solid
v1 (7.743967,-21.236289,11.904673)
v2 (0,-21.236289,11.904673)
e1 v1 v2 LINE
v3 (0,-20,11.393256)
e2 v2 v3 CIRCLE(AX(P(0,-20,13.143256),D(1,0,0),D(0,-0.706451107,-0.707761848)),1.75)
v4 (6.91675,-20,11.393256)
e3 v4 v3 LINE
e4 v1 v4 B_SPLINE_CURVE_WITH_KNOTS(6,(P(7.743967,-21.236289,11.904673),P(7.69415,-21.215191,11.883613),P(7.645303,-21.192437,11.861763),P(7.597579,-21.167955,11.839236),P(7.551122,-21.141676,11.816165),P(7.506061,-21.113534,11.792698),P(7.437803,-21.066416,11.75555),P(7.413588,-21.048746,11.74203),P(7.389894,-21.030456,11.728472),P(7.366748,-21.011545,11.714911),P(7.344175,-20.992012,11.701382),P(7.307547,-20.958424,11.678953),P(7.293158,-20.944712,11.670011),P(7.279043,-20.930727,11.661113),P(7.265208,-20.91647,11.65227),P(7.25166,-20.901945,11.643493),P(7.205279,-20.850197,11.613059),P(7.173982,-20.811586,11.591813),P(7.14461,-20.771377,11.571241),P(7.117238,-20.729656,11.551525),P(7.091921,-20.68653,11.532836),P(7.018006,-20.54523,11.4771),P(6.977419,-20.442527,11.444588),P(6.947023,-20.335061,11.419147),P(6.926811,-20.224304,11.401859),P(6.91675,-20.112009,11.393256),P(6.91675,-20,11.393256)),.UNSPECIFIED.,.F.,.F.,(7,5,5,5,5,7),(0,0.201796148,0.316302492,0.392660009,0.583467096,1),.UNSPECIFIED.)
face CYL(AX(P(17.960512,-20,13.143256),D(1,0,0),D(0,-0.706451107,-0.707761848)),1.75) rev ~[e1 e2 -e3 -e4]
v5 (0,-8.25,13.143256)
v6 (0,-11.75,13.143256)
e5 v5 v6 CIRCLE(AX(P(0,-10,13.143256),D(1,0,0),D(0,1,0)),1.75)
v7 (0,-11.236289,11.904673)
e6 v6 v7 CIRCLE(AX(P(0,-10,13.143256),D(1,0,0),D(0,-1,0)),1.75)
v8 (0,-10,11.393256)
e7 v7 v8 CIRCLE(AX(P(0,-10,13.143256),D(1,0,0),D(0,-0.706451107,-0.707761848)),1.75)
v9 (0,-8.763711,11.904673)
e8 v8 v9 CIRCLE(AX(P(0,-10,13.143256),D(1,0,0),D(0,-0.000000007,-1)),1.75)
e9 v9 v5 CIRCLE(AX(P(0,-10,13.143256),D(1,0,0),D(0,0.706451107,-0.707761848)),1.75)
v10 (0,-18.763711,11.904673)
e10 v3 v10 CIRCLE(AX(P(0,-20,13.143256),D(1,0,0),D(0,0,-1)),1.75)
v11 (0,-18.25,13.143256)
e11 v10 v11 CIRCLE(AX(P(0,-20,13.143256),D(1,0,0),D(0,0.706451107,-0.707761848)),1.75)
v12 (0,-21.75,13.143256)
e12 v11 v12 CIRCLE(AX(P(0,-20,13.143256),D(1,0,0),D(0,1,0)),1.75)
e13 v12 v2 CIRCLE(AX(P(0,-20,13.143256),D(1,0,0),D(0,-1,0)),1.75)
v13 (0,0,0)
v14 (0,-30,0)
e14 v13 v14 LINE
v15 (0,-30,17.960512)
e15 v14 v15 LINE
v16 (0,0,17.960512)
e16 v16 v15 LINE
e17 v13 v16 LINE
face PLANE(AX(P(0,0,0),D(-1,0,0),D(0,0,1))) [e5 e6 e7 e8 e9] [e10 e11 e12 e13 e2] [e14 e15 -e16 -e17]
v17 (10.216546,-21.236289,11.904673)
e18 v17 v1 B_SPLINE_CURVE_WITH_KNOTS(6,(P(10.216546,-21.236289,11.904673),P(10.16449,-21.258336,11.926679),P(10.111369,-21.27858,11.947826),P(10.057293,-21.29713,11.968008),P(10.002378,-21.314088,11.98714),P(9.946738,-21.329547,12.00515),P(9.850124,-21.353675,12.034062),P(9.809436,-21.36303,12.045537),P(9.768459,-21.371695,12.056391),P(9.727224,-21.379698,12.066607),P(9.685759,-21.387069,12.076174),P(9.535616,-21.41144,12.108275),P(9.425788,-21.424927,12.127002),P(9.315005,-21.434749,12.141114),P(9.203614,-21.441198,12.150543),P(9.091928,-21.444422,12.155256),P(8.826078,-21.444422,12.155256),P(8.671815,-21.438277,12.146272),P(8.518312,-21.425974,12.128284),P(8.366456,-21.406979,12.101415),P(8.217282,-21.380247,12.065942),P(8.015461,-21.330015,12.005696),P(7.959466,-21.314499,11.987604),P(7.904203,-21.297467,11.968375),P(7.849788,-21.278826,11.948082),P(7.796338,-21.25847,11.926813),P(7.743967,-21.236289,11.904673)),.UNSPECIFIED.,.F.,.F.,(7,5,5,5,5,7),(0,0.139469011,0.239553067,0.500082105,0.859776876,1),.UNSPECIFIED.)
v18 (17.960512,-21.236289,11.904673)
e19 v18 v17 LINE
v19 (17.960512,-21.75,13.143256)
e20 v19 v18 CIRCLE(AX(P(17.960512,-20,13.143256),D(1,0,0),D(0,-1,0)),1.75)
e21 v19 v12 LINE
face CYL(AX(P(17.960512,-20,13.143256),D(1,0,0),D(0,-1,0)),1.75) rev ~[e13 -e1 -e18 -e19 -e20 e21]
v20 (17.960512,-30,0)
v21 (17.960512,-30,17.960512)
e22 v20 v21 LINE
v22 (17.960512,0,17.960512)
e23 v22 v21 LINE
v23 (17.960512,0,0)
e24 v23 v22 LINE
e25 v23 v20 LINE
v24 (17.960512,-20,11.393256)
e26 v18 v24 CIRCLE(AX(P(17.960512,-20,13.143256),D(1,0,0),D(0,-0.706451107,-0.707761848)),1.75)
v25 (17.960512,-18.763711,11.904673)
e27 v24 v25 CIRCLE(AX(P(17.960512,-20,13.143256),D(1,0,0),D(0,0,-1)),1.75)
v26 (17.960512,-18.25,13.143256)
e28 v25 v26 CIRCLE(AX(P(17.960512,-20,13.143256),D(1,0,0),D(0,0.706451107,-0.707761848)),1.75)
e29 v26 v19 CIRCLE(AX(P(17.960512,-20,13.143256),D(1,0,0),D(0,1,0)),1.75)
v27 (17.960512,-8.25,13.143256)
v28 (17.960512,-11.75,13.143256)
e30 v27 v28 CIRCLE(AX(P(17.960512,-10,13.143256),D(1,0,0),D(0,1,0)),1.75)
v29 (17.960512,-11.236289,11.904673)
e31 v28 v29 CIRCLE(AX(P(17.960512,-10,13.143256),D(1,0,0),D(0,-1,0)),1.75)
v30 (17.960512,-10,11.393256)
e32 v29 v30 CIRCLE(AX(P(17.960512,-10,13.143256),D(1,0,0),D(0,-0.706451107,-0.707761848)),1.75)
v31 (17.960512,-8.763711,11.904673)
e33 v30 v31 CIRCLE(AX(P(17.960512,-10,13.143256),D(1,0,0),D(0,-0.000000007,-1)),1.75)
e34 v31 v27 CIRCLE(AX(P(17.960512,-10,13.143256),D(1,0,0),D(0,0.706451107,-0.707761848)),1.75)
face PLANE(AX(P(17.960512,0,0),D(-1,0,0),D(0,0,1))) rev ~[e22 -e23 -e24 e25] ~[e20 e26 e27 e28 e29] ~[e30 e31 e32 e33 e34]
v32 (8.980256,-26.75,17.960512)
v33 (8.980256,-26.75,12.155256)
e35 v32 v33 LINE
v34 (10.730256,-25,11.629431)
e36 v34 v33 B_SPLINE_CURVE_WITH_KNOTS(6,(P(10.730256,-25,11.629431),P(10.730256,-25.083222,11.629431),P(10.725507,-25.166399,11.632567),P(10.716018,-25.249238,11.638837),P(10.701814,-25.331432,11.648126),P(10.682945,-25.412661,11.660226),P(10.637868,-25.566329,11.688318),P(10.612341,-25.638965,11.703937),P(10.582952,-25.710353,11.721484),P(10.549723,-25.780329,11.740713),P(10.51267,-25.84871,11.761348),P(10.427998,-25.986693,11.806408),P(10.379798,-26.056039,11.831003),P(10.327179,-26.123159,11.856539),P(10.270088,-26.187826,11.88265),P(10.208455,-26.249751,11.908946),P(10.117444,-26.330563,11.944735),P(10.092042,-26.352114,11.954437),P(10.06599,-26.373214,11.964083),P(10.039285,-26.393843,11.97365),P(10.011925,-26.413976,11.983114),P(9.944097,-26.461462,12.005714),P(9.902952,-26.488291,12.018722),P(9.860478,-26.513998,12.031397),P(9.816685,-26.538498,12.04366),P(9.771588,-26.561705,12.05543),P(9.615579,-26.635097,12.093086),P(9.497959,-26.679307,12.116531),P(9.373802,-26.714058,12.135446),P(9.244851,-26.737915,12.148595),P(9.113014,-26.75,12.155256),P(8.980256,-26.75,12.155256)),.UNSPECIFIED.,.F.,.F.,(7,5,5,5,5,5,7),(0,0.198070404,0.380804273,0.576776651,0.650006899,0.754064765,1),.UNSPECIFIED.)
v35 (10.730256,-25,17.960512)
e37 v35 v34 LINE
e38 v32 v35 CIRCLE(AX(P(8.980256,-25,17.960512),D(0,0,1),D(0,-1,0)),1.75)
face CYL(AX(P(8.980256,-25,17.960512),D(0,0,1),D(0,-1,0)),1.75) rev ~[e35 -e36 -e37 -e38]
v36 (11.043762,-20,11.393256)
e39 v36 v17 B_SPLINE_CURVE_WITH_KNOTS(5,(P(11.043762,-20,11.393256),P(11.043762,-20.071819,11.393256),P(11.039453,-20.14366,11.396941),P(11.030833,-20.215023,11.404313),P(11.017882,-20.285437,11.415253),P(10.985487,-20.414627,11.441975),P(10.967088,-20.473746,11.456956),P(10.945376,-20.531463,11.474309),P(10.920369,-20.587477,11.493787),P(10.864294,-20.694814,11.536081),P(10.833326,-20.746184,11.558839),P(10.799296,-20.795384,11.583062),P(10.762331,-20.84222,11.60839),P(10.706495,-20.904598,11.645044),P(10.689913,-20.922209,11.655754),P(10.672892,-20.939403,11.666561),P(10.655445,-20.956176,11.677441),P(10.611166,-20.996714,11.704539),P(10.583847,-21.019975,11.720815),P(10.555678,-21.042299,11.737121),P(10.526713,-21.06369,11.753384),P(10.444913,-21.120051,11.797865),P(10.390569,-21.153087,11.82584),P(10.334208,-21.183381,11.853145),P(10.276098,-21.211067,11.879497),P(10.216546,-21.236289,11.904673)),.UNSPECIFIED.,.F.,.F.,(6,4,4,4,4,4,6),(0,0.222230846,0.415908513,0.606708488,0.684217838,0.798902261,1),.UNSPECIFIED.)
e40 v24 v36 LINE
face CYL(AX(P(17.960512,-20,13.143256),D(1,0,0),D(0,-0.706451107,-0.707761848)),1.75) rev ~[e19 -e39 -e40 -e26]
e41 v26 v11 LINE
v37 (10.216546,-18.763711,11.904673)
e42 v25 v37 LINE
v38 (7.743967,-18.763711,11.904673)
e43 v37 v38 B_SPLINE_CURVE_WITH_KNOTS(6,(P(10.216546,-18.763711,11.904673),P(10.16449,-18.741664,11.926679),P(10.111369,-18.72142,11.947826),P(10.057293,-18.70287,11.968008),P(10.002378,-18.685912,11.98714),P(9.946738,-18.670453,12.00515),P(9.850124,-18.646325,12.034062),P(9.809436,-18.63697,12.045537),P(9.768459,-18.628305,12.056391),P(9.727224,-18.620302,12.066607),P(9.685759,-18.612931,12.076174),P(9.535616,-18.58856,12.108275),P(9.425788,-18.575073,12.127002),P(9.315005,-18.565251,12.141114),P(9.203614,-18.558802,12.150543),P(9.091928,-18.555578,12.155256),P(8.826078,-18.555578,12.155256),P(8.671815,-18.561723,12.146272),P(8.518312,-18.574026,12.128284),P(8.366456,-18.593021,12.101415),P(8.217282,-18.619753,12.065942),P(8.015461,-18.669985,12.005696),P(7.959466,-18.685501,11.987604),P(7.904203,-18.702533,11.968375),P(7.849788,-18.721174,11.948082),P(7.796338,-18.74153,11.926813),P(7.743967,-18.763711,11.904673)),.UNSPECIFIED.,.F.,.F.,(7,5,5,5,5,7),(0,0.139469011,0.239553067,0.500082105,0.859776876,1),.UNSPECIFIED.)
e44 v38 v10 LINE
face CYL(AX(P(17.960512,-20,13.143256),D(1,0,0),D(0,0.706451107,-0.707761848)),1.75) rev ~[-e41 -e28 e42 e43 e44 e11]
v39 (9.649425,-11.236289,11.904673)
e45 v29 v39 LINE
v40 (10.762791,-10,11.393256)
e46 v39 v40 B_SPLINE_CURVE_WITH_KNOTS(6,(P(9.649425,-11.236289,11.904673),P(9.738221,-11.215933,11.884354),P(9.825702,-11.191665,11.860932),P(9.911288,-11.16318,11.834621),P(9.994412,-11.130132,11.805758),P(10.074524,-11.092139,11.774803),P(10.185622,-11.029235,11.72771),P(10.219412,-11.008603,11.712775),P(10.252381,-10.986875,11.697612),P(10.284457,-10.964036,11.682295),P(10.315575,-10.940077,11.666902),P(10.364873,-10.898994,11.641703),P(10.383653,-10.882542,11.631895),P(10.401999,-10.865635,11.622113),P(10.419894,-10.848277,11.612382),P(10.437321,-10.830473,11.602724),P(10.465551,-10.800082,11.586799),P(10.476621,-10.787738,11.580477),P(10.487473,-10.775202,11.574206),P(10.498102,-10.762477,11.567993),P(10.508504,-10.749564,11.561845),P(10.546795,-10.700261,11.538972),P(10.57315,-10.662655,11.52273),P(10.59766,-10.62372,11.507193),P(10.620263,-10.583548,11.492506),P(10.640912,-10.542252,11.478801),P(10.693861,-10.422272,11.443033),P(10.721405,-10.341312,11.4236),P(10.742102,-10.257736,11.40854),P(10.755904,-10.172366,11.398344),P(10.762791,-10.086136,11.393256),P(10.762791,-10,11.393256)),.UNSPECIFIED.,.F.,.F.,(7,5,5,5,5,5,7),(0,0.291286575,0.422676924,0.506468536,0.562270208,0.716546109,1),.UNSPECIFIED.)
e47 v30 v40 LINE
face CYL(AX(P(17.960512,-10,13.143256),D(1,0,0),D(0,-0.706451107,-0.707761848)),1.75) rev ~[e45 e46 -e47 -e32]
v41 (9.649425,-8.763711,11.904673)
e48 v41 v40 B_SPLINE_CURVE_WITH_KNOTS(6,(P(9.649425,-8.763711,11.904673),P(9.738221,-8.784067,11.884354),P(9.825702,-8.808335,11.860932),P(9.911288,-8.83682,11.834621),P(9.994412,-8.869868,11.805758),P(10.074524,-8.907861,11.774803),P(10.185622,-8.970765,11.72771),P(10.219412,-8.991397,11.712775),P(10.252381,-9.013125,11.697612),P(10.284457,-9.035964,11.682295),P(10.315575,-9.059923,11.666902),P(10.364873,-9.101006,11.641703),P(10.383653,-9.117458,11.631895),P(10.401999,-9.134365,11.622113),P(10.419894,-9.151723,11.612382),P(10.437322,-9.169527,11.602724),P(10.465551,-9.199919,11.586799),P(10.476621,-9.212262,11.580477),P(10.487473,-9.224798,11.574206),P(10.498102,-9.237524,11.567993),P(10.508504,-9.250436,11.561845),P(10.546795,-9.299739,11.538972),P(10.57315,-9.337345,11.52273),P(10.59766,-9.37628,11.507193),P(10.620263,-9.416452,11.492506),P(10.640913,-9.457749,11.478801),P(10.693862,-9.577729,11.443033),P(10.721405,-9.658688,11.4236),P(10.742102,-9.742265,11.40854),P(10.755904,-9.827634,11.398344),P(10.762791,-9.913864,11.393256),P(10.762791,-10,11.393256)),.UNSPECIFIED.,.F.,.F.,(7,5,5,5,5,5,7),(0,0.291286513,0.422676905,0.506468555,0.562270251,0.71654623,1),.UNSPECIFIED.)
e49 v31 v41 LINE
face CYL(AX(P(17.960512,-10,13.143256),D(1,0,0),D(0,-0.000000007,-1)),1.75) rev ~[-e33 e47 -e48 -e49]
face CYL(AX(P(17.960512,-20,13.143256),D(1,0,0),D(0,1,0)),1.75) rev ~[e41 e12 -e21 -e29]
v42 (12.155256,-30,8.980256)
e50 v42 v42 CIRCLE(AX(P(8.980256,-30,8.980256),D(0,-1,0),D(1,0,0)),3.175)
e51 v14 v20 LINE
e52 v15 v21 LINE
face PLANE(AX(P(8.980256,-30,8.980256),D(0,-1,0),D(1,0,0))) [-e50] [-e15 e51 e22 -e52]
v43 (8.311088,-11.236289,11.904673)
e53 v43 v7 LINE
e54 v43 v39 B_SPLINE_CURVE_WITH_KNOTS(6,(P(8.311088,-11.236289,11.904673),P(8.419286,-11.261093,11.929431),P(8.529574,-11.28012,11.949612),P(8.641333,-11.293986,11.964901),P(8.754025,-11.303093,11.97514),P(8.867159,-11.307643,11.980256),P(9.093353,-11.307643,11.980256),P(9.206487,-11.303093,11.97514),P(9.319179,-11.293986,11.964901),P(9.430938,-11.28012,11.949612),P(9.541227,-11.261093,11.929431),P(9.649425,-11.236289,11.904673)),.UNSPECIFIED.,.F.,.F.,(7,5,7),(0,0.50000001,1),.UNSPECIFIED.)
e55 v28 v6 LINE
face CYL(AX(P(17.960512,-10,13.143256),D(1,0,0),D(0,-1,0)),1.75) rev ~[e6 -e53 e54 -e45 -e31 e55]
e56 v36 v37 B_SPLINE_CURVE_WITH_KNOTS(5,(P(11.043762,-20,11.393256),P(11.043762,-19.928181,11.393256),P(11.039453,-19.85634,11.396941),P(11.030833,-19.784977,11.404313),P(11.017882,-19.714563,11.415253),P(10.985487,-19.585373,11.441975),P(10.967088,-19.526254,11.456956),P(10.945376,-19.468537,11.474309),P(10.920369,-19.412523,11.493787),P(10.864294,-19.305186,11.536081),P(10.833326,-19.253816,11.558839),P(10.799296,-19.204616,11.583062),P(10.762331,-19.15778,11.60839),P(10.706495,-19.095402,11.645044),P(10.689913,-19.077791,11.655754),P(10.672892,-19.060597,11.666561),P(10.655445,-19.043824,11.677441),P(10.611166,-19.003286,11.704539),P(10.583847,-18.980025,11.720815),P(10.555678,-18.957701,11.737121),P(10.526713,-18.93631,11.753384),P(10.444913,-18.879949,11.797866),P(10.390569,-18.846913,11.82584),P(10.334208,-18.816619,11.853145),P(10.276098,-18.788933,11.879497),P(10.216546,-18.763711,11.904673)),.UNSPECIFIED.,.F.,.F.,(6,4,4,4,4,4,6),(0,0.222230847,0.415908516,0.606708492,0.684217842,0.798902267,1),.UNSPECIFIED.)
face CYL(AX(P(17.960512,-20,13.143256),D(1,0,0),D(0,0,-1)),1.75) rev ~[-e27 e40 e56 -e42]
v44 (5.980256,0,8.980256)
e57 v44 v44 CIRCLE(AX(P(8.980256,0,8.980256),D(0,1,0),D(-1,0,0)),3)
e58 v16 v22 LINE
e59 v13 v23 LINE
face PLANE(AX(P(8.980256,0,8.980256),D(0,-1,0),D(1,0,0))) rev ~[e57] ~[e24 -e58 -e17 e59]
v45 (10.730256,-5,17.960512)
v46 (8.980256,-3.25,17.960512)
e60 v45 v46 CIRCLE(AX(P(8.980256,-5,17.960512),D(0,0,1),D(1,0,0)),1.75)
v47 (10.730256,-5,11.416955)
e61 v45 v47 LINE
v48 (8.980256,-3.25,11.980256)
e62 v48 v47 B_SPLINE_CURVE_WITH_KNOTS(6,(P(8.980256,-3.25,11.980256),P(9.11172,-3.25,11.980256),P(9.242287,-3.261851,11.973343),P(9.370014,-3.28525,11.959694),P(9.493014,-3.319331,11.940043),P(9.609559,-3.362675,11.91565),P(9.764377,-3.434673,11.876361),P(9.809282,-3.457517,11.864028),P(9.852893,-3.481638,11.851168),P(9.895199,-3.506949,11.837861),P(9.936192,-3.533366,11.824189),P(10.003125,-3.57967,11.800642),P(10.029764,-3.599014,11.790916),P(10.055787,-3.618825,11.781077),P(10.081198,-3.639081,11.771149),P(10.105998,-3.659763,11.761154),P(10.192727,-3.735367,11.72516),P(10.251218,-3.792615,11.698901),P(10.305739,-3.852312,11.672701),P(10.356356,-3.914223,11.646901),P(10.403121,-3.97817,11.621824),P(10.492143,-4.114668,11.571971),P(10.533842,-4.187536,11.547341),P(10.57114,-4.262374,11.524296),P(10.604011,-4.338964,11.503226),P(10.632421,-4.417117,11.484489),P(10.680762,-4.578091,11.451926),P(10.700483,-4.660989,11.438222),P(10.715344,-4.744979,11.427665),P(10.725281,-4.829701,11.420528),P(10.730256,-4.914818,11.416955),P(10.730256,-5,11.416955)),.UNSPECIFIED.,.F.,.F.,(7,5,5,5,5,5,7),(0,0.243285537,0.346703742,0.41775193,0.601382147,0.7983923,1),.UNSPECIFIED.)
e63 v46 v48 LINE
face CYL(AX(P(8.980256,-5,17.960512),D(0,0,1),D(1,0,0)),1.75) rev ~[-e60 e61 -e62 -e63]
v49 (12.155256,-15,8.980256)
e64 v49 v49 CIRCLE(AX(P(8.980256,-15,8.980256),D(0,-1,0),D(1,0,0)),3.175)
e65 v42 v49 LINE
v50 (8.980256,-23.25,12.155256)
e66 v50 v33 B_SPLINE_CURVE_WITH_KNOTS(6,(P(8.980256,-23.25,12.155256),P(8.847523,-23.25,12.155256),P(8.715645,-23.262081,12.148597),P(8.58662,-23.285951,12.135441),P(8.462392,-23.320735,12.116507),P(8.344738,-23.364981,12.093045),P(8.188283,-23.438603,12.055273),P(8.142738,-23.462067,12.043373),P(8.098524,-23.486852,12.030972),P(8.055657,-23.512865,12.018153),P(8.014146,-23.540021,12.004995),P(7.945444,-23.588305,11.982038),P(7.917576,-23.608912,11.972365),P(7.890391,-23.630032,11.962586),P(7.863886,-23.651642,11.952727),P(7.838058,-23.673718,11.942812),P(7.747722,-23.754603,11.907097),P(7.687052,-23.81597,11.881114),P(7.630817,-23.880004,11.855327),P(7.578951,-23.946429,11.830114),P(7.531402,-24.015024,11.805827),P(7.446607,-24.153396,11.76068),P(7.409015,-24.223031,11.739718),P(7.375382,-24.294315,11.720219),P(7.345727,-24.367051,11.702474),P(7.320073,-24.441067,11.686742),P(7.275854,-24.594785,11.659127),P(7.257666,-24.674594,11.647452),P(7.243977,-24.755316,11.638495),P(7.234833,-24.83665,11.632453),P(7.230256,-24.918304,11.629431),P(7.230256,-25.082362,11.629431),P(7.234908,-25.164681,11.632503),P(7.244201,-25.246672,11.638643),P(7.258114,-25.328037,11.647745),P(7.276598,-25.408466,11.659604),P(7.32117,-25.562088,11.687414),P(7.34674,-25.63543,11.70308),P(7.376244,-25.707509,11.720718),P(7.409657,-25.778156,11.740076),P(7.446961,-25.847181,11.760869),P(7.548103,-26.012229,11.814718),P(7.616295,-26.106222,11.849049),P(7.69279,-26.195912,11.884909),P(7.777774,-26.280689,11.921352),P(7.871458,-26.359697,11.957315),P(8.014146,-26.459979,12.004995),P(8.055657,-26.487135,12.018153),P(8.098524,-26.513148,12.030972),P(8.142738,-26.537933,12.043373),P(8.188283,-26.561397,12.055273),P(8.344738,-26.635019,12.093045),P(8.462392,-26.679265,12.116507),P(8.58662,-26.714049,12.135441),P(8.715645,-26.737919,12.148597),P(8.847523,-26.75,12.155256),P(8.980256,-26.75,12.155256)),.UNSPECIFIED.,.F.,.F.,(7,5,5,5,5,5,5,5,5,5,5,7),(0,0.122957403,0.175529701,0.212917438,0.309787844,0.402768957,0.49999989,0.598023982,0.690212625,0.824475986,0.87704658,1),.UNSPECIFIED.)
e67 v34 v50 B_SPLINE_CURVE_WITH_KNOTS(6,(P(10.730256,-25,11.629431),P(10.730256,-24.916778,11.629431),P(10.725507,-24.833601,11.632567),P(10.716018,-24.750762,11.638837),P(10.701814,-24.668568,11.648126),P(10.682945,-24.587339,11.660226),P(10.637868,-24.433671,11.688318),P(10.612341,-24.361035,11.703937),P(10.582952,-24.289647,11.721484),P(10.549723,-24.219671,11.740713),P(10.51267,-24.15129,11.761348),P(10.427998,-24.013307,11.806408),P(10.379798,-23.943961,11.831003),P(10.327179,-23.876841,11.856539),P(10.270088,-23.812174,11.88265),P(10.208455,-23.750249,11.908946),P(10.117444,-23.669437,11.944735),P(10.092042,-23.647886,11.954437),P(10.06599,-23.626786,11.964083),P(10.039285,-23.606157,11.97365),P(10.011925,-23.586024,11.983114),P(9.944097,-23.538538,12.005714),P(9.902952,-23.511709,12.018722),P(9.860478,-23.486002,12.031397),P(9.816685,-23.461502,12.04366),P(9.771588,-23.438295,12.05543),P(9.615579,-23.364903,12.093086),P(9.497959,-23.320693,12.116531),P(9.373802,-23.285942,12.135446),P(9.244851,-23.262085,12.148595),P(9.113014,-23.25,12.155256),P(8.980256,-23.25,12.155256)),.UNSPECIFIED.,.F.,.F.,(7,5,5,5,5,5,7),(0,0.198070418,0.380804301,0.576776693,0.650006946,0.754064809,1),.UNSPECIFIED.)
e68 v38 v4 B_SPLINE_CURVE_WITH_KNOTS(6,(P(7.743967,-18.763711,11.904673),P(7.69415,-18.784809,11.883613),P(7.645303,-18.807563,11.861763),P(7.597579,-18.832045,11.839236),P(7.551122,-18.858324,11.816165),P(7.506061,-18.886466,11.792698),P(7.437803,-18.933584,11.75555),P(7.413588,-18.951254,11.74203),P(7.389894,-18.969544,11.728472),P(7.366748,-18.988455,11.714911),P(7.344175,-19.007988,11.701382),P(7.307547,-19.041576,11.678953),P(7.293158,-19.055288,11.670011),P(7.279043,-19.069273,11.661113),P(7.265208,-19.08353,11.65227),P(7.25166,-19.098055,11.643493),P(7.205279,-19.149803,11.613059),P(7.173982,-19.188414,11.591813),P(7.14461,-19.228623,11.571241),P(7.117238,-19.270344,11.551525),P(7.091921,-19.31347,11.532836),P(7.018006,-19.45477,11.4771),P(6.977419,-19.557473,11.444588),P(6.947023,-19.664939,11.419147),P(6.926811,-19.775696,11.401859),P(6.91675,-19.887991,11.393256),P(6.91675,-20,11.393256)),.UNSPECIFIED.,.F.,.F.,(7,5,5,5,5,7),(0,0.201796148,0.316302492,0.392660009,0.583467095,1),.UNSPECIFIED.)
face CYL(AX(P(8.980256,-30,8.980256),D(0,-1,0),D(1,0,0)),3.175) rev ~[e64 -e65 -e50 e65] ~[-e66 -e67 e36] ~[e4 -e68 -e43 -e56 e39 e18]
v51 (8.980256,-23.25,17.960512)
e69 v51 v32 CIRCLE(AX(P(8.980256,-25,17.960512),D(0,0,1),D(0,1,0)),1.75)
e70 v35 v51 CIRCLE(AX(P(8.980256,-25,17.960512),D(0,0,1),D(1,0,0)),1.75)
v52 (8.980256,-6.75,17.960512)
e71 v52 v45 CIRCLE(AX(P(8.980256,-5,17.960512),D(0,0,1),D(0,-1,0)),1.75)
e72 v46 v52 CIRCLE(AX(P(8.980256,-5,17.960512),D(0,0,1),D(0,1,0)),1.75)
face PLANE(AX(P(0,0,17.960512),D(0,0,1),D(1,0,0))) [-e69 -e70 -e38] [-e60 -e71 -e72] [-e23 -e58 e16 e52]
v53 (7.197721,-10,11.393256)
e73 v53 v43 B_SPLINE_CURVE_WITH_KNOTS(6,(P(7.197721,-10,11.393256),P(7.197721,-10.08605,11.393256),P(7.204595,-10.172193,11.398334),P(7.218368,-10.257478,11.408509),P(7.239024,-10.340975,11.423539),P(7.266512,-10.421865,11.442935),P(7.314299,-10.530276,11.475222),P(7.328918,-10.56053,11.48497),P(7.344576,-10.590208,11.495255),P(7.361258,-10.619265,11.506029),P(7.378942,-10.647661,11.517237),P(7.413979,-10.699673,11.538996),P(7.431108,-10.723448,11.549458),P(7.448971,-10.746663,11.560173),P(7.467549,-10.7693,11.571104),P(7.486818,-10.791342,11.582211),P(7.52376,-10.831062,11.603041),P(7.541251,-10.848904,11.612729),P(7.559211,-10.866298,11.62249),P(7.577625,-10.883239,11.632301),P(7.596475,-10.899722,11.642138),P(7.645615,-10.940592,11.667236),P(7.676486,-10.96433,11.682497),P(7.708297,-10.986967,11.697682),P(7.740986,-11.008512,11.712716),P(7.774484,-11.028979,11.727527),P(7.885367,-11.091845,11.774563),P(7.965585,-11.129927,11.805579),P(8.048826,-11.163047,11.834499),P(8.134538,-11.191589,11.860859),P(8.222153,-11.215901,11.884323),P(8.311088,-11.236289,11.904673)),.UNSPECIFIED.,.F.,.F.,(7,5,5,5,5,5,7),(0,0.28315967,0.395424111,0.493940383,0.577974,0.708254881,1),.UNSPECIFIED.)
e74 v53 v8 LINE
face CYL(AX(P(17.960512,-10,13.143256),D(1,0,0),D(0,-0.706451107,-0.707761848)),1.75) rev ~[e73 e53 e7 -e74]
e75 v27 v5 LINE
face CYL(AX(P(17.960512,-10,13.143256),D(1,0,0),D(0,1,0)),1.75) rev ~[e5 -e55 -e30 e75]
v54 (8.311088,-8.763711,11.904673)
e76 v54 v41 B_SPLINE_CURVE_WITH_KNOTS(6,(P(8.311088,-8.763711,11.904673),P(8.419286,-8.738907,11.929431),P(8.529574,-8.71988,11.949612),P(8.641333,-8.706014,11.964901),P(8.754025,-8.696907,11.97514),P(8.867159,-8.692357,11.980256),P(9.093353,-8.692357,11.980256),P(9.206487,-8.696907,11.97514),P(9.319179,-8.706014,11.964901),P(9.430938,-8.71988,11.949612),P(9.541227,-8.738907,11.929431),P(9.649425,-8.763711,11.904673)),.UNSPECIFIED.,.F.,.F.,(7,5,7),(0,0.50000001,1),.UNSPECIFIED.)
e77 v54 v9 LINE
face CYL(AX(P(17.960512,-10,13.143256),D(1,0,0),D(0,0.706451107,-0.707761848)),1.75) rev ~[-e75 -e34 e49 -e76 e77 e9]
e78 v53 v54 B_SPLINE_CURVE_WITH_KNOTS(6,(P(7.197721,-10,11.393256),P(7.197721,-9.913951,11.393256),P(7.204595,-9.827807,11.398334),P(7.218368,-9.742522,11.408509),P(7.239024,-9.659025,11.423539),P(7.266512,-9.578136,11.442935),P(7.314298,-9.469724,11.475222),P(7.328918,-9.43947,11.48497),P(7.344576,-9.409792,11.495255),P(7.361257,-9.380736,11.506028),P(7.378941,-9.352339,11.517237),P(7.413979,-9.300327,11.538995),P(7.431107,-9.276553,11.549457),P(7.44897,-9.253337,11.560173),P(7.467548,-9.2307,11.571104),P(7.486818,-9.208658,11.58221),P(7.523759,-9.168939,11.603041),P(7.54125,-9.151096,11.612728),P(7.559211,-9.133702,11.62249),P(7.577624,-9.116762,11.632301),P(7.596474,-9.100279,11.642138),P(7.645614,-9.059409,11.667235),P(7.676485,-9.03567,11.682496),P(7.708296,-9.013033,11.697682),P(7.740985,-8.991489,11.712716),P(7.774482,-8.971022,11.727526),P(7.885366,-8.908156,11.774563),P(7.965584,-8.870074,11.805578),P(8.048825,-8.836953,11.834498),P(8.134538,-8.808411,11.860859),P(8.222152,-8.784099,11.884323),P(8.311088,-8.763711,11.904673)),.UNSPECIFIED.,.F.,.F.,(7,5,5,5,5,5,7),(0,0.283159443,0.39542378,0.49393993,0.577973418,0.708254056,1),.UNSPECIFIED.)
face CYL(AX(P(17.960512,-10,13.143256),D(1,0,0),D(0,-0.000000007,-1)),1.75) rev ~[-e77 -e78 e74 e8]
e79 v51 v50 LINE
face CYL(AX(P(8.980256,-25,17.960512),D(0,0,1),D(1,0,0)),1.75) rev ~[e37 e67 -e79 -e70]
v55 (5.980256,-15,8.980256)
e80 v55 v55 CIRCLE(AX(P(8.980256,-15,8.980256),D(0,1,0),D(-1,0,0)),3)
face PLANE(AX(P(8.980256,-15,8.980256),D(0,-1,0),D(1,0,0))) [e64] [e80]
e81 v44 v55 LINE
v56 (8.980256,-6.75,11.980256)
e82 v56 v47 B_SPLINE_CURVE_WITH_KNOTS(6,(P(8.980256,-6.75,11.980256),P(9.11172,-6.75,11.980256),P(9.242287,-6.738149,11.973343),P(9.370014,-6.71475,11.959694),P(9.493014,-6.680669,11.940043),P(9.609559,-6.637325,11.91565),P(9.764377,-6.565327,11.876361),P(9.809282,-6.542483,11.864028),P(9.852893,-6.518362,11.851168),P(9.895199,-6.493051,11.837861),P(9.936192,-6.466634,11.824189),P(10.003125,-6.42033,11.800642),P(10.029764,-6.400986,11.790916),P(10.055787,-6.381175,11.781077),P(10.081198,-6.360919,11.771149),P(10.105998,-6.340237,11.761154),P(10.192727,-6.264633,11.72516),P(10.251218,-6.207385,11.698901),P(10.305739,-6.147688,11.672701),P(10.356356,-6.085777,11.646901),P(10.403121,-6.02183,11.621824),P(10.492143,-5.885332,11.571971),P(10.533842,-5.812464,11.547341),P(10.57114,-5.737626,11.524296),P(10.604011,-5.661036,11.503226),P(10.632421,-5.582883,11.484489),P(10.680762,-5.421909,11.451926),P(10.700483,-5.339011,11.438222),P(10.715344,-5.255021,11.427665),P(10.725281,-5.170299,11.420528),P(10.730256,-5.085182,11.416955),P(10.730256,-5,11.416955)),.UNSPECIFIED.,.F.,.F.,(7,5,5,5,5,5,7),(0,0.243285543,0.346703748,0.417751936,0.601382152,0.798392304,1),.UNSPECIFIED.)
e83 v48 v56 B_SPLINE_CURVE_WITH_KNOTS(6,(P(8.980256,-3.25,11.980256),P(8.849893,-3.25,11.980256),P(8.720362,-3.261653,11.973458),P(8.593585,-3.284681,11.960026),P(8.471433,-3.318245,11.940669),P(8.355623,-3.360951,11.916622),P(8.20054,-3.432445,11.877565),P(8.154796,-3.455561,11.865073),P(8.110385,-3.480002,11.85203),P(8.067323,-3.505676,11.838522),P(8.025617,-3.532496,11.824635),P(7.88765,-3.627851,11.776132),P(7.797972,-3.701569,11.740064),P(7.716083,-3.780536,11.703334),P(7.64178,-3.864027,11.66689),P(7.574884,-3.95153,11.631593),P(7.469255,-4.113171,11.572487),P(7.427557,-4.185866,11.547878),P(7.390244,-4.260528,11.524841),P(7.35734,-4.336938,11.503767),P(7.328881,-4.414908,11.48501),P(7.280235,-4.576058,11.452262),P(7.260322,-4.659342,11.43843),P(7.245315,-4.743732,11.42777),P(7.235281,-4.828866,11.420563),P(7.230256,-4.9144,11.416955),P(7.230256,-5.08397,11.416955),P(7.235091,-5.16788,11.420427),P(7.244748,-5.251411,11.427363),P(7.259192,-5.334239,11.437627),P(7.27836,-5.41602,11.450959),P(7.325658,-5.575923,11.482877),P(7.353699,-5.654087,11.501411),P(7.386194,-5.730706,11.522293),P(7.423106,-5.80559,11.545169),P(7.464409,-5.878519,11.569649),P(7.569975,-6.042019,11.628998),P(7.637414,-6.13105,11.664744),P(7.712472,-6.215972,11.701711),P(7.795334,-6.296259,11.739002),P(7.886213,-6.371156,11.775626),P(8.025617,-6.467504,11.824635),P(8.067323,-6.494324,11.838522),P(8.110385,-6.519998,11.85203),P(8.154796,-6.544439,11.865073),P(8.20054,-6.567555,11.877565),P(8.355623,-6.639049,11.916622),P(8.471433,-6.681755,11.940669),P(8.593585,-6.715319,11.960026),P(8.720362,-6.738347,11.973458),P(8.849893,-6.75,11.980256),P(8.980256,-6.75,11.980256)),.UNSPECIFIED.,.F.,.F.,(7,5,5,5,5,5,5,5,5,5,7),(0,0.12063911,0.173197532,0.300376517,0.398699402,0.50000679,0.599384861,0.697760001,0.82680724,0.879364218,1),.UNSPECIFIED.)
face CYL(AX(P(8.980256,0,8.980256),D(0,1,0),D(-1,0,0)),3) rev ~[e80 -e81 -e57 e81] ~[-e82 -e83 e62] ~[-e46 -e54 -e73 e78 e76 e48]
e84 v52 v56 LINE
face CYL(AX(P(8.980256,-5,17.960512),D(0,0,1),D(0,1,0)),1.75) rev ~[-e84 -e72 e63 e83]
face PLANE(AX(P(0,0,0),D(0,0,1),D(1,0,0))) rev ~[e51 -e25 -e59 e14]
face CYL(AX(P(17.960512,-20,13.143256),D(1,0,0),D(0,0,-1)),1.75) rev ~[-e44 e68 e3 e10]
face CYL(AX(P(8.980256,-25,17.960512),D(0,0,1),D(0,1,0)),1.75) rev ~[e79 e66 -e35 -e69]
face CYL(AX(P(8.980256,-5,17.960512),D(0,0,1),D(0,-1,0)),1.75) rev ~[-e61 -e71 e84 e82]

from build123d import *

# Parameters (mm, degrees)
F0_W     = 17.9605122421
F0_H     = 17.9605122421
F1_DEPTH = 30
F2_R     = 3.175
F3_DEPTH = 15
F4_R     = 3
F5_DEPTH = 15
F7_DEPTH = 10.5811646208
F9_DEPTH = 51.3227693737


with BuildPart() as f1:
    # F0 (on Front) → F1 (new body)
    with BuildSketch(Plane.XZ):
        with Locations((8.9802561211, 8.9802561211)):
            Rectangle(F0_W, F0_H)
    extrude(amount=F1_DEPTH)

    # F2 (on face) → F3 (cut)
    with BuildSketch(Plane.XZ.offset(30)):
        with Locations((8.9802561211, 8.9802561211)):
            Circle(F2_R)
    extrude(amount=-F3_DEPTH, mode=Mode.SUBTRACT)

    # F4 (on face) → F5 (cut)
    with BuildSketch(Plane(origin=(0, 0, 0), x_dir=(-1, 0, 0), z_dir=(0, 1, 0))):
        with Locations((-8.9802561211, 8.9802561211)):
            Circle(F4_R)
    extrude(amount=-F5_DEPTH, mode=Mode.SUBTRACT)

    # F6 (on face) → F7 (cut)
    with BuildSketch(Plane.XY.offset(17.9605122421)):
        with BuildLine():
            ThreePointArc((8.9802561211, -23.25), (7.2302561211, -25), (8.9802561211, -26.75))
            Line((8.9802561211, -26.75), (8.9802561211, -23.25))
        make_face()
        with BuildLine():
            Line((8.9802561211, -23.25), (8.9802561211, -26.75))
            ThreePointArc((8.9802561211, -26.75), (10.2176929881, -26.2374368671), (10.7302561211, -25))
            ThreePointArc((10.7302561211, -25), (10.2176929881, -23.7625631329), (8.9802561211, -23.25))
        make_face()
        with BuildLine():
            ThreePointArc((8.9802561211, -3.25), (7.2302561211, -5), (8.9802561211, -6.75))
            Line((8.9802561211, -6.75), (8.9802561211, -3.25))
        make_face()
        with BuildLine():
            Line((8.9802561211, -3.25), (8.9802561211, -6.75))
            ThreePointArc((8.9802561211, -6.75), (10.2176929881, -6.2374368671), (10.7302561211, -5))
            ThreePointArc((10.7302561211, -5), (10.2176929881, -3.7625631329), (8.9802561211, -3.25))
        make_face()
    extrude(amount=-F7_DEPTH, mode=Mode.SUBTRACT)

    # F8 (on face) → F9 (cut)
    with BuildSketch(Plane.YZ.offset(17.9605122421)):
        with BuildLine():
            ThreePointArc((-21.2362894379, 11.9046728878), (-20, 12.1552561211), (-18.7637105621, 11.9046728878))
            ThreePointArc((-18.7637105621, 11.9046728878), (-18.38352134, 12.4728109393), (-18.25, 13.1432561211))
            Line((-18.25, 13.1432561211), (-21.75, 13.1432561211))
            ThreePointArc((-21.75, 13.1432561211), (-21.61647866, 12.4728109393), (-21.2362894379, 11.9046728878))
        make_face()
        with BuildLine():
            ThreePointArc((-20, 11.3932561211), (-19.3310533124, 11.5261567645), (-18.7637105621, 11.9046728878))
            ThreePointArc((-18.7637105621, 11.9046728878), (-20, 12.1552561211), (-21.2362894379, 11.9046728878))
            ThreePointArc((-21.2362894379, 11.9046728878), (-20.6689466876, 11.5261567645), (-20, 11.3932561211))
        make_face()
        with BuildLine():
            Line((-21.75, 13.1432561211), (-18.25, 13.1432561211))
            ThreePointArc((-18.25, 13.1432561211), (-20, 14.8932561211), (-21.75, 13.1432561211))
        make_face()
        with BuildLine():
            ThreePointArc((-10.0000000112, 11.3932561211), (-9.3310533175, 11.5261567623), (-8.7637105621, 11.9046728878))
            ThreePointArc((-8.7637105621, 11.9046728878), (-10, 12.1552561211), (-11.2362894379, 11.9046728878))
            ThreePointArc((-11.2362894379, 11.9046728878), (-10.6689466928, 11.5261567666), (-10.0000000112, 11.3932561211))
        make_face()
        with BuildLine():
            ThreePointArc((-11.2362894379, 11.9046728878), (-10, 12.1552561211), (-8.7637105621, 11.9046728878))
            ThreePointArc((-8.7637105621, 11.9046728878), (-8.38352134, 12.4728109393), (-8.25, 13.1432561211))
            Line((-8.25, 13.1432561211), (-11.75, 13.1432561211))
            ThreePointArc((-11.75, 13.1432561211), (-11.61647866, 12.4728109393), (-11.2362894379, 11.9046728878))
        make_face()
        with BuildLine():
            Line((-11.75, 13.1432561211), (-8.25, 13.1432561211))
            ThreePointArc((-8.25, 13.1432561211), (-10, 14.8932561211), (-11.75, 13.1432561211))
        make_face()
    extrude(amount=-F9_DEPTH, mode=Mode.SUBTRACT)


solid = f1.part
